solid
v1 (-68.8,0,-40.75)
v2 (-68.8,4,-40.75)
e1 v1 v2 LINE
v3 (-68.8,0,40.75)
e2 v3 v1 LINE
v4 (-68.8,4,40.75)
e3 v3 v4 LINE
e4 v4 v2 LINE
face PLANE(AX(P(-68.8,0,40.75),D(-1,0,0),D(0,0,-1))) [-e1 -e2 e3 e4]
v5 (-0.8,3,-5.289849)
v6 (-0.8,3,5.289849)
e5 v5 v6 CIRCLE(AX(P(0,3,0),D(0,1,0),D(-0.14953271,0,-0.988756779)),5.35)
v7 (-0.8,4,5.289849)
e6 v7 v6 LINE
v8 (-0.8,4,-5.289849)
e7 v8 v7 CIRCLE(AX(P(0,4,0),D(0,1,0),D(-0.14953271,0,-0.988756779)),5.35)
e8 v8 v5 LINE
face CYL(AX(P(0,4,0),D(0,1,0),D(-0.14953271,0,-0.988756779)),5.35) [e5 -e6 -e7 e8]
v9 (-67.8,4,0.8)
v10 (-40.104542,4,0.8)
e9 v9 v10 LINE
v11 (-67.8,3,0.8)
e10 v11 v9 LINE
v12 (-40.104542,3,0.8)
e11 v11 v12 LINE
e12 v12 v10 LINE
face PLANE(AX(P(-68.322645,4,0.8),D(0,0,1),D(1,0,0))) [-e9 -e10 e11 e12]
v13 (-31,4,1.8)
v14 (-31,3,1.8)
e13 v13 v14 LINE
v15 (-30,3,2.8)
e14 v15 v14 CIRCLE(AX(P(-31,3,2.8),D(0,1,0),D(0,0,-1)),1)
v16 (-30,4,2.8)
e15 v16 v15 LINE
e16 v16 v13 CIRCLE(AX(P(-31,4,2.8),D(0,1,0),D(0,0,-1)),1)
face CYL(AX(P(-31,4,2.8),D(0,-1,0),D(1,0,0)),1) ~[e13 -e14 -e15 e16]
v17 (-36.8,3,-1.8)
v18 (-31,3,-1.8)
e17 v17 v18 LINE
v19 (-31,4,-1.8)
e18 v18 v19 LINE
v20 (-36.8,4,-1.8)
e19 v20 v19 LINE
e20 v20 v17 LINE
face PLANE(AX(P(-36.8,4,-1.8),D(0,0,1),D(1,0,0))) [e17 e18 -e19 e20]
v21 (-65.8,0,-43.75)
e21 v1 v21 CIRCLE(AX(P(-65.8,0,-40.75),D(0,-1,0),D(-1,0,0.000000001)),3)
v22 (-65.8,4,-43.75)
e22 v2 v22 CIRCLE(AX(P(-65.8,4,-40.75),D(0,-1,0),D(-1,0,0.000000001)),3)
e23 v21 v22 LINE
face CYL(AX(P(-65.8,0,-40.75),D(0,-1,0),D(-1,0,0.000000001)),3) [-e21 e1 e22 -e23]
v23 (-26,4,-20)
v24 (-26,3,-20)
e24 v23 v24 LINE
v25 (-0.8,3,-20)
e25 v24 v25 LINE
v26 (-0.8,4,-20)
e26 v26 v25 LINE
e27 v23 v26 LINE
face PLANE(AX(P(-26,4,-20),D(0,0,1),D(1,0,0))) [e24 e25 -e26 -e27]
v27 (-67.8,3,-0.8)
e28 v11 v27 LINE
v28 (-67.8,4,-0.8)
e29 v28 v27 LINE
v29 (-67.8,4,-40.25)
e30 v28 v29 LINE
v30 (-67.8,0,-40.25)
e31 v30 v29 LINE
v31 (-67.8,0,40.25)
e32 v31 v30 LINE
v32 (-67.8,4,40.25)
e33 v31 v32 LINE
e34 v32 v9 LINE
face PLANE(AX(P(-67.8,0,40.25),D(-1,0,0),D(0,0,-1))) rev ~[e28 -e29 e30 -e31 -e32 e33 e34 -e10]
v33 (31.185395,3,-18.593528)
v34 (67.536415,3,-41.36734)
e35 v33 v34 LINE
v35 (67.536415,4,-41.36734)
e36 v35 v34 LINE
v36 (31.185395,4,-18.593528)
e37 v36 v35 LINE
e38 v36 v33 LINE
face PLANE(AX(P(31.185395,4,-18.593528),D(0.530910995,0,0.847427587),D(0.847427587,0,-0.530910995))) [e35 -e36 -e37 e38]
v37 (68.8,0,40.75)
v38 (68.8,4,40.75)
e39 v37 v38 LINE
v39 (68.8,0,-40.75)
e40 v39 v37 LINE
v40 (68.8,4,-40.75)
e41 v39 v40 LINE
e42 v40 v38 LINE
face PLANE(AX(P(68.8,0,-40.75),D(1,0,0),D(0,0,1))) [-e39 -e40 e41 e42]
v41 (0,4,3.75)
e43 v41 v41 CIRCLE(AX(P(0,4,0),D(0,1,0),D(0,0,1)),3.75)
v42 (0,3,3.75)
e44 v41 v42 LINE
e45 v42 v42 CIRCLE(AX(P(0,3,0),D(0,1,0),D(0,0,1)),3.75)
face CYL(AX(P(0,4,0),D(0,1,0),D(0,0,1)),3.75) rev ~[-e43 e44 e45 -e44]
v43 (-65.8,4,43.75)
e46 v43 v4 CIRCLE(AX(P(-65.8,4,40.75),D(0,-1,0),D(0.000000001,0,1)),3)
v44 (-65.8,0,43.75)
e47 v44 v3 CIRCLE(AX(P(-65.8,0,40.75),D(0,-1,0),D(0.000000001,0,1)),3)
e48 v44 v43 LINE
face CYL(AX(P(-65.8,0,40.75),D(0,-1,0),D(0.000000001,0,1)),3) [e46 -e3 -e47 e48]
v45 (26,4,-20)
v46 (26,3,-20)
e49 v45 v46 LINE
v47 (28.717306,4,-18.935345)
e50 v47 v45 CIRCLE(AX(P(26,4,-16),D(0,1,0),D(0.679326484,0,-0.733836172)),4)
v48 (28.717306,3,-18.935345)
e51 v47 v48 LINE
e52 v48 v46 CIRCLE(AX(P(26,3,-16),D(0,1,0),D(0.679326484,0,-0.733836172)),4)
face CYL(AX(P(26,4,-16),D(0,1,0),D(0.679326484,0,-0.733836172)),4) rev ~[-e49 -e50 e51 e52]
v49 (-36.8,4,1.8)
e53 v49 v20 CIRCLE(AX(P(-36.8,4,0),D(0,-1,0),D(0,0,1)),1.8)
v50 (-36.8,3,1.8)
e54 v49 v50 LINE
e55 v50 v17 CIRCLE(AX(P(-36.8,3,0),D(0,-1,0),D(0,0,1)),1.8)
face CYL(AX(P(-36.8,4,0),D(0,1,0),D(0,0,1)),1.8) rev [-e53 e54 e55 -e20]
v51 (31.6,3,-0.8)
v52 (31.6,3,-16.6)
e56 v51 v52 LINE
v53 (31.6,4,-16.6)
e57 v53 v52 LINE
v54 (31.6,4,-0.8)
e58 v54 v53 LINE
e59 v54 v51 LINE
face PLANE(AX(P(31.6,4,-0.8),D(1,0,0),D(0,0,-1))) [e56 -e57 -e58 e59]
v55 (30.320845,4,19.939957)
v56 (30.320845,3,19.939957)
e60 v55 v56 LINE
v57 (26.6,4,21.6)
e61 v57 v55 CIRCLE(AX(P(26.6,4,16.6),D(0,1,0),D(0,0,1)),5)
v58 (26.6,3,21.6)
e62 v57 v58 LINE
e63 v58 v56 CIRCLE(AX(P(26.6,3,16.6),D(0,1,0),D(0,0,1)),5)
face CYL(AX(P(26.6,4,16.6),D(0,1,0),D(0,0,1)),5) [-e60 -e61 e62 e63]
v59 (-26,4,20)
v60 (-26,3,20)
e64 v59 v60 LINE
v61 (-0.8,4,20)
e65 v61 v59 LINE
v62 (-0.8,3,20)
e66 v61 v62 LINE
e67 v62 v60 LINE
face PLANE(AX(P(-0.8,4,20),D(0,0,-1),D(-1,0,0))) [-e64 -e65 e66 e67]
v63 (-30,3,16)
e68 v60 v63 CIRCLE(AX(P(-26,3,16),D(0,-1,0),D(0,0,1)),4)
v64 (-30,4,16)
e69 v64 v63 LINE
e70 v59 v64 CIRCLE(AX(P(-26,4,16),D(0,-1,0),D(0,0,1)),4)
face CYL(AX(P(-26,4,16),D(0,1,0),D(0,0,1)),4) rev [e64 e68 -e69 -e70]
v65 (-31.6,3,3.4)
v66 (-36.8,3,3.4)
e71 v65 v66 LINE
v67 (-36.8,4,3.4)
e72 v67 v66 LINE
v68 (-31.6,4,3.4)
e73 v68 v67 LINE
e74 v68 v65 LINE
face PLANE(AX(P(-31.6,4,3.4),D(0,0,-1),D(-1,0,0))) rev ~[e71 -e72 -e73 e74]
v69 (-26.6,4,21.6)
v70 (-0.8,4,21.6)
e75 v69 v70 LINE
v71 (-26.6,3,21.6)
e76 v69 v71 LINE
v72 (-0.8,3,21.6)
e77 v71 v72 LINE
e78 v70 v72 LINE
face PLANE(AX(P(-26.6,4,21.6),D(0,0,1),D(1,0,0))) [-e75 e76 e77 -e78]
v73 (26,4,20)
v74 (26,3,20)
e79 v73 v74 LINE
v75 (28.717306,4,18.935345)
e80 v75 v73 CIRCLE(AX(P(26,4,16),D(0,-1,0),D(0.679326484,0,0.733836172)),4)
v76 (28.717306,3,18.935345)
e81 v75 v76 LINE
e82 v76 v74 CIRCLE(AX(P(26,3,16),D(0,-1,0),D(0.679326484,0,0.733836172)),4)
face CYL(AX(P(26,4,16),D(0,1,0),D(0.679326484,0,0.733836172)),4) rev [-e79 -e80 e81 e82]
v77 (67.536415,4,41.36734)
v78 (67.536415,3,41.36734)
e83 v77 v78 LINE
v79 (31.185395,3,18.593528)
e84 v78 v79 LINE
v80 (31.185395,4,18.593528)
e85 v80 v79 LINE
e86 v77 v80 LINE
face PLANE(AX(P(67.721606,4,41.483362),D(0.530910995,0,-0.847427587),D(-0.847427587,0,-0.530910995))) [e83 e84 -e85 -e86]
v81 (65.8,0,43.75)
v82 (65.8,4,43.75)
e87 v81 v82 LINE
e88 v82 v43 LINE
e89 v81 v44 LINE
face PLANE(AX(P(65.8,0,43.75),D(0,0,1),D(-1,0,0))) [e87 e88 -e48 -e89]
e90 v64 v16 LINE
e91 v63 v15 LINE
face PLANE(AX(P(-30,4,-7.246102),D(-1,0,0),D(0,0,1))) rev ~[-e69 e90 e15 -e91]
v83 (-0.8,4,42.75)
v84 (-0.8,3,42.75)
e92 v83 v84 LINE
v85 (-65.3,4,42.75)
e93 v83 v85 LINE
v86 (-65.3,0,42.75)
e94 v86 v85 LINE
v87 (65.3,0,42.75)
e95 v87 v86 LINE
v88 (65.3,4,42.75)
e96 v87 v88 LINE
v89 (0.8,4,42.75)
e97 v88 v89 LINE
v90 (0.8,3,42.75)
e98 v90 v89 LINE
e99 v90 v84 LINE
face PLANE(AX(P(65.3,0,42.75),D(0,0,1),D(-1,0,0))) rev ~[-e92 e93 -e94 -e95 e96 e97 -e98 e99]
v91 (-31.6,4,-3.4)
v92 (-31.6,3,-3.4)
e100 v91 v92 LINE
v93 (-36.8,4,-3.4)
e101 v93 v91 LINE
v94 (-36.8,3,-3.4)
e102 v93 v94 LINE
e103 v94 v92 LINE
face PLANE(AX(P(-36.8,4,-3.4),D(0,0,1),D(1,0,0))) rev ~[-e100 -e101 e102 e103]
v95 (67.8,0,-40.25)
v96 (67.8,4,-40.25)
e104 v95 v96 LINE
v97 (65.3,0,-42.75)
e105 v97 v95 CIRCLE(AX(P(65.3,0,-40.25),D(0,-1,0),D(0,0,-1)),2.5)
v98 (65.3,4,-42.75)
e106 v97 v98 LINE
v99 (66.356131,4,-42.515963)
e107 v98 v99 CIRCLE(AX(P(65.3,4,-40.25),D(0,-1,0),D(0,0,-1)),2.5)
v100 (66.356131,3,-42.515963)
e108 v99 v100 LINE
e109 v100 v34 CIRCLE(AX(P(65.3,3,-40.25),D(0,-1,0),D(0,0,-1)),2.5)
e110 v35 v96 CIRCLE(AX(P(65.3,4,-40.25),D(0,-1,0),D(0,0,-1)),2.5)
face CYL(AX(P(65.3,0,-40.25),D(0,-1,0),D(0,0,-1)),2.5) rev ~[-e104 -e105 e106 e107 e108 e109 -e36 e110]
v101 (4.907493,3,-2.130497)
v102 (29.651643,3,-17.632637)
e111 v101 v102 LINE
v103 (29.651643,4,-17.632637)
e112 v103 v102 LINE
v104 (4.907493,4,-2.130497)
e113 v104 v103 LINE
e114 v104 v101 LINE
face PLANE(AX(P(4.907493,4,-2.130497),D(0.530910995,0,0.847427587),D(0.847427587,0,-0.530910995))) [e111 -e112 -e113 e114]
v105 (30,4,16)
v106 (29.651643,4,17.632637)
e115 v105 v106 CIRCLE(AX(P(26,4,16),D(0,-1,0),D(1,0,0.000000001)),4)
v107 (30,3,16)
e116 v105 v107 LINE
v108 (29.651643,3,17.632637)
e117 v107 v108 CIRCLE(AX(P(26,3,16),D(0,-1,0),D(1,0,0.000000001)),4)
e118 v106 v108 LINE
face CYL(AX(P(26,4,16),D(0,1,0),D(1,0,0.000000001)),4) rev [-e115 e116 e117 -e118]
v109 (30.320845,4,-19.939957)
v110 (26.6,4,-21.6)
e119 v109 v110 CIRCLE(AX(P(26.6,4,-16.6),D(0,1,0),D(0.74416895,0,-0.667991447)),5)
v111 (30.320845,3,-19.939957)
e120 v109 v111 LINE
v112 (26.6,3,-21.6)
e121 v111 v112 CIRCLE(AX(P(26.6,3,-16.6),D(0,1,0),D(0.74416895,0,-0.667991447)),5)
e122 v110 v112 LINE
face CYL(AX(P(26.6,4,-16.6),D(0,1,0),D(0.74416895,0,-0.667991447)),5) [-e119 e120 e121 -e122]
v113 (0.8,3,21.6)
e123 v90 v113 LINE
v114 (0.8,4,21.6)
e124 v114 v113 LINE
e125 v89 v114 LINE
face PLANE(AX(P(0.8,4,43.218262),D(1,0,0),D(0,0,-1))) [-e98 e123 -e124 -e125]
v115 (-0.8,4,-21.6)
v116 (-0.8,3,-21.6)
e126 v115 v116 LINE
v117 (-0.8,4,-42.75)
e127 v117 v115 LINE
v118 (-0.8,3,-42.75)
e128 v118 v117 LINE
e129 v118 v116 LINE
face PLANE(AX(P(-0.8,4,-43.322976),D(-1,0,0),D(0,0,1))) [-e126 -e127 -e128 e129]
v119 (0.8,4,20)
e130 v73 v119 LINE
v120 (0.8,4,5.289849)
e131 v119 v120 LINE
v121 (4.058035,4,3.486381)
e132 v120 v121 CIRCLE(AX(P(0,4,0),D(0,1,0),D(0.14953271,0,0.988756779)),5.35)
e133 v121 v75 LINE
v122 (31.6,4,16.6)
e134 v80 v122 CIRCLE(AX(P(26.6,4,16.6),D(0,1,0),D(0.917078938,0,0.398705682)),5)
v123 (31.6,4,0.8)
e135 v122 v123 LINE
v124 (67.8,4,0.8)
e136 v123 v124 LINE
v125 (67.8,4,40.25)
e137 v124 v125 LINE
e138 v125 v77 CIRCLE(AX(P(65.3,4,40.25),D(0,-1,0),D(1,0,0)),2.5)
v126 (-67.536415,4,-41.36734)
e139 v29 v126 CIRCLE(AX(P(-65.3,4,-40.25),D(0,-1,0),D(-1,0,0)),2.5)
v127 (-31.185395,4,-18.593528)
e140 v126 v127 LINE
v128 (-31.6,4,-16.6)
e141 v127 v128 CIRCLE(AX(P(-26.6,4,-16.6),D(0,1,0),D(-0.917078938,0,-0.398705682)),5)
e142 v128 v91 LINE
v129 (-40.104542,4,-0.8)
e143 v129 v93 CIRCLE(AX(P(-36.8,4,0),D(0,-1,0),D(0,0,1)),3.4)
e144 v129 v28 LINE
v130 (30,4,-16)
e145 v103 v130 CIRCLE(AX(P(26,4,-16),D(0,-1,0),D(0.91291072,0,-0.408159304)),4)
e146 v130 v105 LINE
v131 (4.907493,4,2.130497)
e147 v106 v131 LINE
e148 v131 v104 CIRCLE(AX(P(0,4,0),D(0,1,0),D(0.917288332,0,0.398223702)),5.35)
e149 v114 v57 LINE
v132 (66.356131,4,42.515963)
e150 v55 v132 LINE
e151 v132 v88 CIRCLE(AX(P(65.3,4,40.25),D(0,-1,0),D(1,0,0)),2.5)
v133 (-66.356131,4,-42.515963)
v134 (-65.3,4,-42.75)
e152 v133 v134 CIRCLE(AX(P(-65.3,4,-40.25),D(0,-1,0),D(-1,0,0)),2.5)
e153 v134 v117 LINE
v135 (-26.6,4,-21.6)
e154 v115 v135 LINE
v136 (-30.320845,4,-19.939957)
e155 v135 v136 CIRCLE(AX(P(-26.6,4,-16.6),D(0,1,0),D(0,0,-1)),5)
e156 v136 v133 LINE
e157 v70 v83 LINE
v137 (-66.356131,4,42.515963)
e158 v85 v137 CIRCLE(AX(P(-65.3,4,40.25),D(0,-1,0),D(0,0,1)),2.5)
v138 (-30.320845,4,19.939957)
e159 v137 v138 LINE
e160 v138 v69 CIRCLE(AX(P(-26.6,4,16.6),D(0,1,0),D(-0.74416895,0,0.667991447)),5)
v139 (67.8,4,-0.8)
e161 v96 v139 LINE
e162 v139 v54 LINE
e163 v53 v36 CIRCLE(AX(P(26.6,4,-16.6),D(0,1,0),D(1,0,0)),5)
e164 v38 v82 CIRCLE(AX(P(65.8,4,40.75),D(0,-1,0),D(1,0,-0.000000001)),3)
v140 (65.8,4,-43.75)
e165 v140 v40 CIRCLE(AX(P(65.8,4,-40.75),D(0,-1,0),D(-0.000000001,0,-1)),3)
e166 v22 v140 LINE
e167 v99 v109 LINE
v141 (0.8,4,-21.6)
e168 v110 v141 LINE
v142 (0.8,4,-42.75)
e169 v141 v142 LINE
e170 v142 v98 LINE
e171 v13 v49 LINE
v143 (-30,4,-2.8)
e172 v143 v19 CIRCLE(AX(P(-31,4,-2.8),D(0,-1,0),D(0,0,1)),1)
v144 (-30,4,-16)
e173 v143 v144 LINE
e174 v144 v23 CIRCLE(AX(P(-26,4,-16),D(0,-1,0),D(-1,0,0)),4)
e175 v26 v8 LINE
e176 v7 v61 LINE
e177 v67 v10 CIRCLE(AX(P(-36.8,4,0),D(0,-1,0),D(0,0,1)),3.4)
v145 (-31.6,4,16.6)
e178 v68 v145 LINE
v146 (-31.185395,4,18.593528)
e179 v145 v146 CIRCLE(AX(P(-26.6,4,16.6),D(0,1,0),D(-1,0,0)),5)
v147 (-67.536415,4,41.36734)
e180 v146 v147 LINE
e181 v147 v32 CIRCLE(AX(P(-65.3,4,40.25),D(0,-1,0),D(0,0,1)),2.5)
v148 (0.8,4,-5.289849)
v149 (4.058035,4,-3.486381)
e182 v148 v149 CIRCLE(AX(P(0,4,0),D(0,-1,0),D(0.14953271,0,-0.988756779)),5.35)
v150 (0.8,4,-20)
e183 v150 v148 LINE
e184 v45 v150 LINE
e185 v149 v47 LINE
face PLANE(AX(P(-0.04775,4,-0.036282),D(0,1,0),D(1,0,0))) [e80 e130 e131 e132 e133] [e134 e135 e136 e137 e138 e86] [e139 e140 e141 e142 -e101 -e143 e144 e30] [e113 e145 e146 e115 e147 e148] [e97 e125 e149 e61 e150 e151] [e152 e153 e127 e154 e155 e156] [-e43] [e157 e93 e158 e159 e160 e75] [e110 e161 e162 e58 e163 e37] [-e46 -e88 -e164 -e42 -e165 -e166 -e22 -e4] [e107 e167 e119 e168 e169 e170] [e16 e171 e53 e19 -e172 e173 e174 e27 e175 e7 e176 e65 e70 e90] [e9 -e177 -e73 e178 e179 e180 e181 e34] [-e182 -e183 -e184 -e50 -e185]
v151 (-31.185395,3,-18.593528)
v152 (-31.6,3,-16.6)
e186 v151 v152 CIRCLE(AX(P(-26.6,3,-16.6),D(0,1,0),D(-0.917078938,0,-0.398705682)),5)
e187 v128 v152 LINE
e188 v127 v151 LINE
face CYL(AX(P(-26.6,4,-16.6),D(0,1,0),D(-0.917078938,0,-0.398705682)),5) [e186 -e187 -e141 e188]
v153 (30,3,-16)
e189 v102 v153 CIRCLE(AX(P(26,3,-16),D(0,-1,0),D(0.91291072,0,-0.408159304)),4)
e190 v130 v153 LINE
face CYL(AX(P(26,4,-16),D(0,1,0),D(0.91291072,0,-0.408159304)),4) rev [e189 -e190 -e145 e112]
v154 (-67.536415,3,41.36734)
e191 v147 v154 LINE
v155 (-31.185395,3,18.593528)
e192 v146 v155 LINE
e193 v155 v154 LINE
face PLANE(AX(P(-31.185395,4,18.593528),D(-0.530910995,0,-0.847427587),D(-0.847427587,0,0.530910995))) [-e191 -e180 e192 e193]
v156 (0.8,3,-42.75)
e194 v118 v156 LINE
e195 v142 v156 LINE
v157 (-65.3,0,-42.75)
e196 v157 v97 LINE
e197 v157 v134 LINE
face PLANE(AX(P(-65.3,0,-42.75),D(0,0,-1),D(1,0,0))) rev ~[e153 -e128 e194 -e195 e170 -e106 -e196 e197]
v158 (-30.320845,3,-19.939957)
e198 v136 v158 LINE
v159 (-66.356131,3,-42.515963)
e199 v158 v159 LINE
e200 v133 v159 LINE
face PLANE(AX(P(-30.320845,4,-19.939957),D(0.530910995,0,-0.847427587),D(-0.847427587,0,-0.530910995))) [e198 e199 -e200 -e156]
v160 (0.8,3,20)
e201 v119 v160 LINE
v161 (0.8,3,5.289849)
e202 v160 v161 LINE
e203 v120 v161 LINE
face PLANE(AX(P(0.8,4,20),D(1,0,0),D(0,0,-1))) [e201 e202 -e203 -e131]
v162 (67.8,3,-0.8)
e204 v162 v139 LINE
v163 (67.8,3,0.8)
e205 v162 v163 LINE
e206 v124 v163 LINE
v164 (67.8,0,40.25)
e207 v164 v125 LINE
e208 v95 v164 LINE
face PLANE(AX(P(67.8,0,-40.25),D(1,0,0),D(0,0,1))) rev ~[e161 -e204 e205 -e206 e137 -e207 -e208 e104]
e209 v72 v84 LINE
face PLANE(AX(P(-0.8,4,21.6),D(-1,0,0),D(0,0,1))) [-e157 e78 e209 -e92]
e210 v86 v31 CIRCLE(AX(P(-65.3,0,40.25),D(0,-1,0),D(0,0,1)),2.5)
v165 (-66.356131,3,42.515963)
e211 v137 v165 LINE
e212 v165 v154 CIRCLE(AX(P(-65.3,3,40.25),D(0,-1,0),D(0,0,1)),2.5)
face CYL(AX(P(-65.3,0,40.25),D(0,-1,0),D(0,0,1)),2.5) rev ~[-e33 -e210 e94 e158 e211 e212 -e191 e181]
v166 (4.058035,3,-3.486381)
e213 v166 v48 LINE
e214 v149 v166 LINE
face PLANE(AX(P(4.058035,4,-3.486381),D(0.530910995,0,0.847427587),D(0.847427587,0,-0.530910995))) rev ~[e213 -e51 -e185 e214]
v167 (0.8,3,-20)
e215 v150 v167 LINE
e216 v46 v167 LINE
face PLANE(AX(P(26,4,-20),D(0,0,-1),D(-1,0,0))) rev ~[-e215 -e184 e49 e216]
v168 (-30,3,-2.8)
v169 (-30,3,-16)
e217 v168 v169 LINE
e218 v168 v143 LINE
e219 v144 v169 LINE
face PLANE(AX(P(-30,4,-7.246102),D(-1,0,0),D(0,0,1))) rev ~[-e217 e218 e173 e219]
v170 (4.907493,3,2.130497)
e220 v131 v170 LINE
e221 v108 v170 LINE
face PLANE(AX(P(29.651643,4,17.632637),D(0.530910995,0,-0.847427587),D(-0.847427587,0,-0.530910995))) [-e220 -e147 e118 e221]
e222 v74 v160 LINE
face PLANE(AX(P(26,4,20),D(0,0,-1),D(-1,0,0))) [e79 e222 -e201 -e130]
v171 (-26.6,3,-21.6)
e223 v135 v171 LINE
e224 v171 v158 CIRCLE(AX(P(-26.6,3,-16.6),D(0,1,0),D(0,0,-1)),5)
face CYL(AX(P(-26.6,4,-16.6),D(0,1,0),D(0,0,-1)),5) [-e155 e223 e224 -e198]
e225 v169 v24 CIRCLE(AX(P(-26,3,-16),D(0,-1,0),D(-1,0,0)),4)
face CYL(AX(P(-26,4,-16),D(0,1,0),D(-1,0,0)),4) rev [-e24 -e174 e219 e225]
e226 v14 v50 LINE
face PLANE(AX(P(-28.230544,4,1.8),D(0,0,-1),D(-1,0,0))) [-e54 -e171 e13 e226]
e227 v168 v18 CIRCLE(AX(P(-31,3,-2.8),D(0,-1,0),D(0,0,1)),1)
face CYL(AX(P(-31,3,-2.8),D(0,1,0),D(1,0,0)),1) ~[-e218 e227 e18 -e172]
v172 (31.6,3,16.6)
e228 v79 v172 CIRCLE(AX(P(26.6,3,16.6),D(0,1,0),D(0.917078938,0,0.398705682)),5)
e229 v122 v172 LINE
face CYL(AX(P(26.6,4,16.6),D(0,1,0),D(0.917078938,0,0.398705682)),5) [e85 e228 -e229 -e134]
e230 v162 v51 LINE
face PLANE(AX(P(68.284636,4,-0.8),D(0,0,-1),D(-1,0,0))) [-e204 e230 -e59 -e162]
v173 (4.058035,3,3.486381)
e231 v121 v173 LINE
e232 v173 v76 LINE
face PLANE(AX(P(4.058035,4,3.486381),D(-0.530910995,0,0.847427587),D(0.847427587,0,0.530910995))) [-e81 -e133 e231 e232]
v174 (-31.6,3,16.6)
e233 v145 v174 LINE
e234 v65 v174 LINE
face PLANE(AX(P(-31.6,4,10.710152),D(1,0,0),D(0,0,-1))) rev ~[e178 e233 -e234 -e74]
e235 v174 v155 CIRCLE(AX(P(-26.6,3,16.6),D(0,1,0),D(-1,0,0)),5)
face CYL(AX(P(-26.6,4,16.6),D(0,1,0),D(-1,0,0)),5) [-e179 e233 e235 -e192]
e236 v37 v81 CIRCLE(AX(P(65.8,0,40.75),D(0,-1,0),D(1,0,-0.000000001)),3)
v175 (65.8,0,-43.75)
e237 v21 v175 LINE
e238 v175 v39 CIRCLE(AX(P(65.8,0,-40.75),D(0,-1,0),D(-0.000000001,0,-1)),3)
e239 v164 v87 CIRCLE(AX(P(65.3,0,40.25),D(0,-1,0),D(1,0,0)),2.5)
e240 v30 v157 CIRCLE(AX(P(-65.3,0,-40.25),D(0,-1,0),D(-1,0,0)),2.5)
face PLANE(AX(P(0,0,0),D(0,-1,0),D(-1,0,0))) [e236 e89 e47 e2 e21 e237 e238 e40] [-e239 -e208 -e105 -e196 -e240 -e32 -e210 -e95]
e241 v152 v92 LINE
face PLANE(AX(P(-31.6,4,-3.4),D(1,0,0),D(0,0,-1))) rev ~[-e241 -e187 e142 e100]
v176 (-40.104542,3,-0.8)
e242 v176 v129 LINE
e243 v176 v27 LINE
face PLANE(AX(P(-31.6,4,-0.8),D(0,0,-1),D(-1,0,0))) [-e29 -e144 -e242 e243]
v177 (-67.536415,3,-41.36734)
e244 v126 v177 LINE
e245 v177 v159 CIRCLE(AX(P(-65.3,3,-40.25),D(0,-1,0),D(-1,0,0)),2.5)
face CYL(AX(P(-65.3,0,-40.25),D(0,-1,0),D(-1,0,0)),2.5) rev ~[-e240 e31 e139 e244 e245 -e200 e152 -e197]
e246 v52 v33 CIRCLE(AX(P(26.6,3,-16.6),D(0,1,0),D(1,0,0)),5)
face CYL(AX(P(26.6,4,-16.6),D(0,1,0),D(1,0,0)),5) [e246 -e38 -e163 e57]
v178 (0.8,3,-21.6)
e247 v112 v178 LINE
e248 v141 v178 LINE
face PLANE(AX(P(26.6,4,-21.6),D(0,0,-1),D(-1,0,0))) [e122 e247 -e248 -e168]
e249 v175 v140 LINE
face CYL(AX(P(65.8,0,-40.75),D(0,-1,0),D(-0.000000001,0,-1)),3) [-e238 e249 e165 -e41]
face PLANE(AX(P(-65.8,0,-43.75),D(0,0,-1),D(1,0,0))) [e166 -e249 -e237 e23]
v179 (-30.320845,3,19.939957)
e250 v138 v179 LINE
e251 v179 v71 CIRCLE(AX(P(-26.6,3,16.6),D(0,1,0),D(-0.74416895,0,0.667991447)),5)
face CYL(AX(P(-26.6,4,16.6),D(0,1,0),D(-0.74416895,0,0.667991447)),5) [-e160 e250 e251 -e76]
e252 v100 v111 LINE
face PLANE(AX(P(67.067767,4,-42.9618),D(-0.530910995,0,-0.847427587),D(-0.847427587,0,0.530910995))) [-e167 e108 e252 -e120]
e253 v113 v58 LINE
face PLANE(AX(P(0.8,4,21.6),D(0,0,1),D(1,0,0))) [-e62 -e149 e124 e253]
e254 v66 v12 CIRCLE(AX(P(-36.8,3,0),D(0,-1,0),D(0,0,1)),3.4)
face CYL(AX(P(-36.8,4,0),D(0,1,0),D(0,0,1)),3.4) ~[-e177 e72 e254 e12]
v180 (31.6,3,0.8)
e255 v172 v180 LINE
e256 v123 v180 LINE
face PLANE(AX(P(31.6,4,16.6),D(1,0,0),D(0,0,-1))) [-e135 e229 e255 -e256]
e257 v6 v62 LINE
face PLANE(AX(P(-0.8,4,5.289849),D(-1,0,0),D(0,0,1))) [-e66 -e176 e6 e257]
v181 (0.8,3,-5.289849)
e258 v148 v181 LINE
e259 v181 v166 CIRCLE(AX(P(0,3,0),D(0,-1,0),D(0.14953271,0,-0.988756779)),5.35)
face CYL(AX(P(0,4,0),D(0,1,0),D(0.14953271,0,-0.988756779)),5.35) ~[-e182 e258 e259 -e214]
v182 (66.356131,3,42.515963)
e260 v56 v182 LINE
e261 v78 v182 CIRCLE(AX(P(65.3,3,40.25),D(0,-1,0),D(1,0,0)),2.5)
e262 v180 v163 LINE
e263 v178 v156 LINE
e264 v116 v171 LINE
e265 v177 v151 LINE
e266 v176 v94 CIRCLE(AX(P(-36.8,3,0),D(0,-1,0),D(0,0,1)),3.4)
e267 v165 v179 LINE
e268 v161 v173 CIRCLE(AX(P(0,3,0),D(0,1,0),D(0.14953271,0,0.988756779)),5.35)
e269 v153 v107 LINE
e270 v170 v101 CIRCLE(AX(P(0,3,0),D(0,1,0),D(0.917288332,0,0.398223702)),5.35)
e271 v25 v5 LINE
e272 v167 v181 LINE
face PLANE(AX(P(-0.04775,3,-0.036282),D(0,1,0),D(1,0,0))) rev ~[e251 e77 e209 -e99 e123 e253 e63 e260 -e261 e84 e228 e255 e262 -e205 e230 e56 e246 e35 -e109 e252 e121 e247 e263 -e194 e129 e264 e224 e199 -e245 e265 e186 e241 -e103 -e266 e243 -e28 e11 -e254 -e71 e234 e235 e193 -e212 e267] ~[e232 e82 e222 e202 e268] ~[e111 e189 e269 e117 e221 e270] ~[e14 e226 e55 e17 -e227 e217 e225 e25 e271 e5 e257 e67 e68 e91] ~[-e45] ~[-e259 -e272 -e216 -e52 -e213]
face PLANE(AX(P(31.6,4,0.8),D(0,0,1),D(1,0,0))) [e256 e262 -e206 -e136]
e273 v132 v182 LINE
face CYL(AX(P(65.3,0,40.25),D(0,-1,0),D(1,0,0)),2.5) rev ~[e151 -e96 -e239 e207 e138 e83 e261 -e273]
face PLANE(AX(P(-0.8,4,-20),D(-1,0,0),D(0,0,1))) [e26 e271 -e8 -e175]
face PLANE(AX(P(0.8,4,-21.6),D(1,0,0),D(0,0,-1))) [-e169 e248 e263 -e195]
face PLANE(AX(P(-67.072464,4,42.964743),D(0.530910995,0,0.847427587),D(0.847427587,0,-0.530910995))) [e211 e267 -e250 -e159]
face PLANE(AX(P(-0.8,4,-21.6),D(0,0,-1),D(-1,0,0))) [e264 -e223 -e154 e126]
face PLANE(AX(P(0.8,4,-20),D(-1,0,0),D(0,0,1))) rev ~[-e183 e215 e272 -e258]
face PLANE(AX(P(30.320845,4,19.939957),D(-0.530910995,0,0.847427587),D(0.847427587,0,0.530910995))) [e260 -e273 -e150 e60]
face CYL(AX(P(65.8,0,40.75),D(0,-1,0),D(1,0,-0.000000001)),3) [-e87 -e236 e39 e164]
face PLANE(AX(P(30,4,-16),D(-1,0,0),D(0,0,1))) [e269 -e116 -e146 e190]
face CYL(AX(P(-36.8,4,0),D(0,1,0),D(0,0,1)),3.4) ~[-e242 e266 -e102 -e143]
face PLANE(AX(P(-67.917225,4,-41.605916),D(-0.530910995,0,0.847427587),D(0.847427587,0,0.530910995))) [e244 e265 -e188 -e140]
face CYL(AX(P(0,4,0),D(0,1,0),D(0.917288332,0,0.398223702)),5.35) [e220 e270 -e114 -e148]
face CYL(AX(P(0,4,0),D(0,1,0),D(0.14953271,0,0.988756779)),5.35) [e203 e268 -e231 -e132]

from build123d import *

# Parameters (mm, degrees)
BOSS_EXTRU_1_DEPTH      = 4
ESQUISSE2_R             = 3.75
BOSS_EXTRU_3_DEPTH      = 1
BOSS_EXTRU_4_DEPTH      = 1
ENL_V_MAT_EXTRU_1_DEPTH = 82.630279309
CONG_1_R                = 1


with BuildPart() as part:
    # Esquisse1 → Boss.-Extru.1 (new body)
    with BuildSketch(Plane(origin=(0, 0, 0), x_dir=(1, 0, 0), z_dir=(0, 1, 0))):
        with BuildLine():
            Line((-65.8, 43.75), (65.8, 43.75))
            ThreePointArc((65.8, 43.75), (67.921320344, 42.871320344), (68.8, 40.75))
            Line((68.8, 40.75), (68.8, -40.75))
            ThreePointArc((68.8, -40.75), (67.921320344, -42.871320344), (65.8, -43.75))
            Line((65.8, -43.75), (-65.8, -43.75))
            ThreePointArc((-65.8, -43.75), (-67.921320344, -42.871320344), (-68.8, -40.75))
            Line((-68.8, -40.75), (-68.8, 40.75))
            ThreePointArc((-68.8, 40.75), (-67.921320344, 42.871320344), (-65.8, 43.75))
        make_face()
        with BuildLine():
            Line((-65.3, 42.75), (65.3, 42.75))
            ThreePointArc((65.3, 42.75), (67.067766953, 42.017766953), (67.8, 40.25))
            Line((67.8, 40.25), (67.8, -40.25))
            ThreePointArc((67.8, -40.25), (67.067766953, -42.017766953), (65.3, -42.75))
            Line((65.3, -42.75), (-65.3, -42.75))
            ThreePointArc((-65.3, -42.75), (-67.067766953, -42.017766953), (-67.8, -40.25))
            Line((-67.8, -40.25), (-67.8, 40.25))
            ThreePointArc((-67.8, 40.25), (-67.067766953, 42.017766953), (-65.3, 42.75))
        make_face(mode=Mode.SUBTRACT)
    extrude(amount=BOSS_EXTRU_1_DEPTH)

    # Esquisse2 → Boss.-Extru.3 (add)
    with BuildSketch(Plane(origin=(0, 4, 0), x_dir=(1, 0, 0), z_dir=(0, 1, 0))):
        with BuildLine():
            Line((31.185394692, 18.593528409), (67.917224545, 41.605916277))
            Line((67.917224545, 41.605916277), (67.067766953, 42.961800416))
            Line((67.067766953, 42.961800416), (30.320844752, 19.939957235))
            ThreePointArc((30.320844752, 19.939957235), (28.637181119, 21.166168316), (26.6, 21.6))
            Line((26.6, 21.6), (0.8, 21.6))
            Line((0.8, 21.6), (0.8, 43.322975794))
            Line((0.8, 43.322975794), (-0.8, 43.322975794))
            Line((-0.8, 43.322975794), (-0.8, 21.6))
            Line((-0.8, 21.6), (-26.6, 21.6))
            ThreePointArc((-26.6, 21.6), (-28.637181119, 21.166168316), (-30.320844752, 19.939957235))
            Line((-30.320844752, 19.939957235), (-67.067766953, 42.961800416))
            Line((-67.067766953, 42.961800416), (-67.917224545, 41.605916277))
            Line((-67.917224545, 41.605916277), (-31.185394692, 18.593528409))
            ThreePointArc((-31.185394692, 18.593528409), (-31.495251447, 17.618092958), (-31.6, 16.6))
            Line((-31.6, 16.6), (-31.6, 0.8))
            Line((-31.6, 0.8), (-68.322644777, 0.8))
            Line((-68.322644777, 0.8), (-68.322644777, -0.8))
            Line((-68.322644777, -0.8), (-31.6, -0.8))
            Line((-31.6, -0.8), (-31.6, -16.6))
            ThreePointArc((-31.6, -16.6), (-31.495251447, -17.618092958), (-31.185394692, -18.593528409))
            Line((-31.185394692, -18.593528409), (-67.921921264, -41.608858758))
            Line((-67.921921264, -41.608858758), (-67.072463672, -42.964742898))
            Line((-67.072463672, -42.964742898), (-30.320844752, -19.939957235))
            ThreePointArc((-30.320844752, -19.939957235), (-28.637181119, -21.166168316), (-26.6, -21.6))
            Line((-26.6, -21.6), (-0.8, -21.6))
            Line((-0.8, -21.6), (-0.8, -43.218261979))
            Line((-0.8, -43.218261979), (0.8, -43.218261979))
            Line((0.8, -43.218261979), (0.8, -21.6))
            Line((0.8, -21.6), (26.6, -21.6))
            ThreePointArc((26.6, -21.6), (28.637181119, -21.166168316), (30.320844752, -19.939957235))
            Line((30.320844752, -19.939957235), (66.872148546, -42.839246036))
            Line((66.872148546, -42.839246036), (67.721606138, -41.483361896))
            Line((67.721606138, -41.483361896), (31.185394692, -18.593528409))
            ThreePointArc((31.185394692, -18.593528409), (31.495251447, -17.618092958), (31.6, -16.6))
            Line((31.6, -16.6), (31.6, -0.8))
            Line((31.6, -0.8), (68.284636361, -0.8))
            Line((68.284636361, -0.8), (68.284636361, 0.8))
            Line((68.284636361, 0.8), (31.6, 0.8))
            Line((31.6, 0.8), (31.6, 16.6))
            ThreePointArc((31.6, 16.6), (31.495251447, 17.618092958), (31.185394692, 18.593528409))
        make_face()
        with Locations(Location((0, 0, 0), (0, 0, 270))):
            Circle(ESQUISSE2_R, mode=Mode.SUBTRACT)
        with BuildLine():
            Line((-26, 20), (-0.8, 20))
            Line((-0.8, 20), (-0.8, 5.289848769))
            ThreePointArc((-0.8, 5.289848769), (-5.35, 0), (-0.8, -5.289848769))
            Line((-0.8, -5.289848769), (-0.8, -20))
            Line((-0.8, -20), (-26, -20))
            ThreePointArc((-26, -20), (-28.828427125, -18.828427125), (-30, -16))
            Line((-30, -16), (-30, 16))
            ThreePointArc((-30, 16), (-28.828427125, 18.828427125), (-26, 20))
        make_face(mode=Mode.SUBTRACT)
        with BuildLine():
            Line((30, 16), (30, -16))
            ThreePointArc((30, -16), (29.91194143, -16.834694103), (29.651642878, -17.632637221))
            Line((29.651642878, -17.632637221), (4.907492575, -2.130496802))
            ThreePointArc((4.907492575, -2.130496802), (5.35, 0), (4.907492575, 2.130496802))
            Line((4.907492575, 2.130496802), (29.651642878, 17.632637221))
            ThreePointArc((29.651642878, 17.632637221), (29.91194143, 16.834694103), (30, 16))
        make_face(mode=Mode.SUBTRACT)
        with BuildLine():
            Line((0.8, 20), (0.8, 5.289848769))
            ThreePointArc((0.8, 5.289848769), (2.590994023, 4.680731778), (4.058034983, 3.486380942))
            Line((4.058034983, 3.486380942), (28.717305938, 18.935344688))
            ThreePointArc((28.717305938, 18.935344688), (27.459215756, 19.724337441), (26, 20))
            Line((26, 20), (0.8, 20))
        make_face(mode=Mode.SUBTRACT)
        with BuildLine():
            Line((0.8, -20), (0.8, -5.289848769))
            ThreePointArc((0.8, -5.289848769), (2.590994023, -4.680731778), (4.058034983, -3.486380942))
            Line((4.058034983, -3.486380942), (28.717305938, -18.935344688))
            ThreePointArc((28.717305938, -18.935344688), (27.459215756, -19.724337441), (26, -20))
            Line((26, -20), (0.8, -20))
        make_face(mode=Mode.SUBTRACT)
    extrude(amount=-BOSS_EXTRU_3_DEPTH)

    # Esquisse3 → Boss.-Extru.4 (add)
    with BuildSketch(Plane(origin=(0, 4, 0), x_dir=(1, 0, 0), z_dir=(0, 1, 0))):
        with BuildLine():
            Line((-31.6, 7.246102482), (-30, 7.246102482))
            Line((-30, 7.246102482), (-30, -10.710151561))
            Line((-30, -10.710151561), (-31.6, -10.710151561))
            Line((-31.6, -10.710151561), (-31.6, -3.4))
            Line((-31.6, -3.4), (-36.8, -3.4))
            ThreePointArc((-36.8, -3.4), (-40.2, 0), (-36.8, 3.4))
            Line((-36.8, 3.4), (-31.6, 3.4))
            Line((-31.6, 3.4), (-31.6, 7.246102482))
        make_face()
        with BuildLine():
            Line((-36.8, 1.8), (-33.91555898, 1.8))
            Line((-33.91555898, 1.8), (-31.6, 1.8))
            Line((-31.6, 1.8), (-31.6, -1.8))
            Line((-31.6, -1.8), (-33.91555898, -1.8))
            Line((-33.91555898, -1.8), (-36.8, -1.8))
            ThreePointArc((-36.8, -1.8), (-38.6, 0), (-36.8, 1.8))
        make_face(mode=Mode.SUBTRACT)
    extrude(amount=-BOSS_EXTRU_4_DEPTH)

    # Esquisse4 → Enlèv. mat.-Extru.1 (cut, through all)
    with BuildSketch(Plane(origin=(0, 4, 0), x_dir=(1, 0, 0), z_dir=(0, 1, 0))):
        with BuildLine():
            Line((-36.8, 1.8), (-28.230544018, 1.8))
            Line((-28.230544018, 1.8), (-28.230544018, -1.8))
            Line((-28.230544018, -1.8), (-36.8, -1.8))
            ThreePointArc((-36.8, -1.8), (-38.6, 0), (-36.8, 1.8))
        make_face()
    extrude(amount=-ENL_V_MAT_EXTRU_1_DEPTH, mode=Mode.SUBTRACT)

    # Congé1
    cong_1_edges = [part.edges().sort_by_distance(p)[0] for p in [
        (-30, 3.5, -1.8),
        (-30, 3.5, 1.8),
    ]]
    fillet(cong_1_edges, radius=CONG_1_R)


solid = part.part
